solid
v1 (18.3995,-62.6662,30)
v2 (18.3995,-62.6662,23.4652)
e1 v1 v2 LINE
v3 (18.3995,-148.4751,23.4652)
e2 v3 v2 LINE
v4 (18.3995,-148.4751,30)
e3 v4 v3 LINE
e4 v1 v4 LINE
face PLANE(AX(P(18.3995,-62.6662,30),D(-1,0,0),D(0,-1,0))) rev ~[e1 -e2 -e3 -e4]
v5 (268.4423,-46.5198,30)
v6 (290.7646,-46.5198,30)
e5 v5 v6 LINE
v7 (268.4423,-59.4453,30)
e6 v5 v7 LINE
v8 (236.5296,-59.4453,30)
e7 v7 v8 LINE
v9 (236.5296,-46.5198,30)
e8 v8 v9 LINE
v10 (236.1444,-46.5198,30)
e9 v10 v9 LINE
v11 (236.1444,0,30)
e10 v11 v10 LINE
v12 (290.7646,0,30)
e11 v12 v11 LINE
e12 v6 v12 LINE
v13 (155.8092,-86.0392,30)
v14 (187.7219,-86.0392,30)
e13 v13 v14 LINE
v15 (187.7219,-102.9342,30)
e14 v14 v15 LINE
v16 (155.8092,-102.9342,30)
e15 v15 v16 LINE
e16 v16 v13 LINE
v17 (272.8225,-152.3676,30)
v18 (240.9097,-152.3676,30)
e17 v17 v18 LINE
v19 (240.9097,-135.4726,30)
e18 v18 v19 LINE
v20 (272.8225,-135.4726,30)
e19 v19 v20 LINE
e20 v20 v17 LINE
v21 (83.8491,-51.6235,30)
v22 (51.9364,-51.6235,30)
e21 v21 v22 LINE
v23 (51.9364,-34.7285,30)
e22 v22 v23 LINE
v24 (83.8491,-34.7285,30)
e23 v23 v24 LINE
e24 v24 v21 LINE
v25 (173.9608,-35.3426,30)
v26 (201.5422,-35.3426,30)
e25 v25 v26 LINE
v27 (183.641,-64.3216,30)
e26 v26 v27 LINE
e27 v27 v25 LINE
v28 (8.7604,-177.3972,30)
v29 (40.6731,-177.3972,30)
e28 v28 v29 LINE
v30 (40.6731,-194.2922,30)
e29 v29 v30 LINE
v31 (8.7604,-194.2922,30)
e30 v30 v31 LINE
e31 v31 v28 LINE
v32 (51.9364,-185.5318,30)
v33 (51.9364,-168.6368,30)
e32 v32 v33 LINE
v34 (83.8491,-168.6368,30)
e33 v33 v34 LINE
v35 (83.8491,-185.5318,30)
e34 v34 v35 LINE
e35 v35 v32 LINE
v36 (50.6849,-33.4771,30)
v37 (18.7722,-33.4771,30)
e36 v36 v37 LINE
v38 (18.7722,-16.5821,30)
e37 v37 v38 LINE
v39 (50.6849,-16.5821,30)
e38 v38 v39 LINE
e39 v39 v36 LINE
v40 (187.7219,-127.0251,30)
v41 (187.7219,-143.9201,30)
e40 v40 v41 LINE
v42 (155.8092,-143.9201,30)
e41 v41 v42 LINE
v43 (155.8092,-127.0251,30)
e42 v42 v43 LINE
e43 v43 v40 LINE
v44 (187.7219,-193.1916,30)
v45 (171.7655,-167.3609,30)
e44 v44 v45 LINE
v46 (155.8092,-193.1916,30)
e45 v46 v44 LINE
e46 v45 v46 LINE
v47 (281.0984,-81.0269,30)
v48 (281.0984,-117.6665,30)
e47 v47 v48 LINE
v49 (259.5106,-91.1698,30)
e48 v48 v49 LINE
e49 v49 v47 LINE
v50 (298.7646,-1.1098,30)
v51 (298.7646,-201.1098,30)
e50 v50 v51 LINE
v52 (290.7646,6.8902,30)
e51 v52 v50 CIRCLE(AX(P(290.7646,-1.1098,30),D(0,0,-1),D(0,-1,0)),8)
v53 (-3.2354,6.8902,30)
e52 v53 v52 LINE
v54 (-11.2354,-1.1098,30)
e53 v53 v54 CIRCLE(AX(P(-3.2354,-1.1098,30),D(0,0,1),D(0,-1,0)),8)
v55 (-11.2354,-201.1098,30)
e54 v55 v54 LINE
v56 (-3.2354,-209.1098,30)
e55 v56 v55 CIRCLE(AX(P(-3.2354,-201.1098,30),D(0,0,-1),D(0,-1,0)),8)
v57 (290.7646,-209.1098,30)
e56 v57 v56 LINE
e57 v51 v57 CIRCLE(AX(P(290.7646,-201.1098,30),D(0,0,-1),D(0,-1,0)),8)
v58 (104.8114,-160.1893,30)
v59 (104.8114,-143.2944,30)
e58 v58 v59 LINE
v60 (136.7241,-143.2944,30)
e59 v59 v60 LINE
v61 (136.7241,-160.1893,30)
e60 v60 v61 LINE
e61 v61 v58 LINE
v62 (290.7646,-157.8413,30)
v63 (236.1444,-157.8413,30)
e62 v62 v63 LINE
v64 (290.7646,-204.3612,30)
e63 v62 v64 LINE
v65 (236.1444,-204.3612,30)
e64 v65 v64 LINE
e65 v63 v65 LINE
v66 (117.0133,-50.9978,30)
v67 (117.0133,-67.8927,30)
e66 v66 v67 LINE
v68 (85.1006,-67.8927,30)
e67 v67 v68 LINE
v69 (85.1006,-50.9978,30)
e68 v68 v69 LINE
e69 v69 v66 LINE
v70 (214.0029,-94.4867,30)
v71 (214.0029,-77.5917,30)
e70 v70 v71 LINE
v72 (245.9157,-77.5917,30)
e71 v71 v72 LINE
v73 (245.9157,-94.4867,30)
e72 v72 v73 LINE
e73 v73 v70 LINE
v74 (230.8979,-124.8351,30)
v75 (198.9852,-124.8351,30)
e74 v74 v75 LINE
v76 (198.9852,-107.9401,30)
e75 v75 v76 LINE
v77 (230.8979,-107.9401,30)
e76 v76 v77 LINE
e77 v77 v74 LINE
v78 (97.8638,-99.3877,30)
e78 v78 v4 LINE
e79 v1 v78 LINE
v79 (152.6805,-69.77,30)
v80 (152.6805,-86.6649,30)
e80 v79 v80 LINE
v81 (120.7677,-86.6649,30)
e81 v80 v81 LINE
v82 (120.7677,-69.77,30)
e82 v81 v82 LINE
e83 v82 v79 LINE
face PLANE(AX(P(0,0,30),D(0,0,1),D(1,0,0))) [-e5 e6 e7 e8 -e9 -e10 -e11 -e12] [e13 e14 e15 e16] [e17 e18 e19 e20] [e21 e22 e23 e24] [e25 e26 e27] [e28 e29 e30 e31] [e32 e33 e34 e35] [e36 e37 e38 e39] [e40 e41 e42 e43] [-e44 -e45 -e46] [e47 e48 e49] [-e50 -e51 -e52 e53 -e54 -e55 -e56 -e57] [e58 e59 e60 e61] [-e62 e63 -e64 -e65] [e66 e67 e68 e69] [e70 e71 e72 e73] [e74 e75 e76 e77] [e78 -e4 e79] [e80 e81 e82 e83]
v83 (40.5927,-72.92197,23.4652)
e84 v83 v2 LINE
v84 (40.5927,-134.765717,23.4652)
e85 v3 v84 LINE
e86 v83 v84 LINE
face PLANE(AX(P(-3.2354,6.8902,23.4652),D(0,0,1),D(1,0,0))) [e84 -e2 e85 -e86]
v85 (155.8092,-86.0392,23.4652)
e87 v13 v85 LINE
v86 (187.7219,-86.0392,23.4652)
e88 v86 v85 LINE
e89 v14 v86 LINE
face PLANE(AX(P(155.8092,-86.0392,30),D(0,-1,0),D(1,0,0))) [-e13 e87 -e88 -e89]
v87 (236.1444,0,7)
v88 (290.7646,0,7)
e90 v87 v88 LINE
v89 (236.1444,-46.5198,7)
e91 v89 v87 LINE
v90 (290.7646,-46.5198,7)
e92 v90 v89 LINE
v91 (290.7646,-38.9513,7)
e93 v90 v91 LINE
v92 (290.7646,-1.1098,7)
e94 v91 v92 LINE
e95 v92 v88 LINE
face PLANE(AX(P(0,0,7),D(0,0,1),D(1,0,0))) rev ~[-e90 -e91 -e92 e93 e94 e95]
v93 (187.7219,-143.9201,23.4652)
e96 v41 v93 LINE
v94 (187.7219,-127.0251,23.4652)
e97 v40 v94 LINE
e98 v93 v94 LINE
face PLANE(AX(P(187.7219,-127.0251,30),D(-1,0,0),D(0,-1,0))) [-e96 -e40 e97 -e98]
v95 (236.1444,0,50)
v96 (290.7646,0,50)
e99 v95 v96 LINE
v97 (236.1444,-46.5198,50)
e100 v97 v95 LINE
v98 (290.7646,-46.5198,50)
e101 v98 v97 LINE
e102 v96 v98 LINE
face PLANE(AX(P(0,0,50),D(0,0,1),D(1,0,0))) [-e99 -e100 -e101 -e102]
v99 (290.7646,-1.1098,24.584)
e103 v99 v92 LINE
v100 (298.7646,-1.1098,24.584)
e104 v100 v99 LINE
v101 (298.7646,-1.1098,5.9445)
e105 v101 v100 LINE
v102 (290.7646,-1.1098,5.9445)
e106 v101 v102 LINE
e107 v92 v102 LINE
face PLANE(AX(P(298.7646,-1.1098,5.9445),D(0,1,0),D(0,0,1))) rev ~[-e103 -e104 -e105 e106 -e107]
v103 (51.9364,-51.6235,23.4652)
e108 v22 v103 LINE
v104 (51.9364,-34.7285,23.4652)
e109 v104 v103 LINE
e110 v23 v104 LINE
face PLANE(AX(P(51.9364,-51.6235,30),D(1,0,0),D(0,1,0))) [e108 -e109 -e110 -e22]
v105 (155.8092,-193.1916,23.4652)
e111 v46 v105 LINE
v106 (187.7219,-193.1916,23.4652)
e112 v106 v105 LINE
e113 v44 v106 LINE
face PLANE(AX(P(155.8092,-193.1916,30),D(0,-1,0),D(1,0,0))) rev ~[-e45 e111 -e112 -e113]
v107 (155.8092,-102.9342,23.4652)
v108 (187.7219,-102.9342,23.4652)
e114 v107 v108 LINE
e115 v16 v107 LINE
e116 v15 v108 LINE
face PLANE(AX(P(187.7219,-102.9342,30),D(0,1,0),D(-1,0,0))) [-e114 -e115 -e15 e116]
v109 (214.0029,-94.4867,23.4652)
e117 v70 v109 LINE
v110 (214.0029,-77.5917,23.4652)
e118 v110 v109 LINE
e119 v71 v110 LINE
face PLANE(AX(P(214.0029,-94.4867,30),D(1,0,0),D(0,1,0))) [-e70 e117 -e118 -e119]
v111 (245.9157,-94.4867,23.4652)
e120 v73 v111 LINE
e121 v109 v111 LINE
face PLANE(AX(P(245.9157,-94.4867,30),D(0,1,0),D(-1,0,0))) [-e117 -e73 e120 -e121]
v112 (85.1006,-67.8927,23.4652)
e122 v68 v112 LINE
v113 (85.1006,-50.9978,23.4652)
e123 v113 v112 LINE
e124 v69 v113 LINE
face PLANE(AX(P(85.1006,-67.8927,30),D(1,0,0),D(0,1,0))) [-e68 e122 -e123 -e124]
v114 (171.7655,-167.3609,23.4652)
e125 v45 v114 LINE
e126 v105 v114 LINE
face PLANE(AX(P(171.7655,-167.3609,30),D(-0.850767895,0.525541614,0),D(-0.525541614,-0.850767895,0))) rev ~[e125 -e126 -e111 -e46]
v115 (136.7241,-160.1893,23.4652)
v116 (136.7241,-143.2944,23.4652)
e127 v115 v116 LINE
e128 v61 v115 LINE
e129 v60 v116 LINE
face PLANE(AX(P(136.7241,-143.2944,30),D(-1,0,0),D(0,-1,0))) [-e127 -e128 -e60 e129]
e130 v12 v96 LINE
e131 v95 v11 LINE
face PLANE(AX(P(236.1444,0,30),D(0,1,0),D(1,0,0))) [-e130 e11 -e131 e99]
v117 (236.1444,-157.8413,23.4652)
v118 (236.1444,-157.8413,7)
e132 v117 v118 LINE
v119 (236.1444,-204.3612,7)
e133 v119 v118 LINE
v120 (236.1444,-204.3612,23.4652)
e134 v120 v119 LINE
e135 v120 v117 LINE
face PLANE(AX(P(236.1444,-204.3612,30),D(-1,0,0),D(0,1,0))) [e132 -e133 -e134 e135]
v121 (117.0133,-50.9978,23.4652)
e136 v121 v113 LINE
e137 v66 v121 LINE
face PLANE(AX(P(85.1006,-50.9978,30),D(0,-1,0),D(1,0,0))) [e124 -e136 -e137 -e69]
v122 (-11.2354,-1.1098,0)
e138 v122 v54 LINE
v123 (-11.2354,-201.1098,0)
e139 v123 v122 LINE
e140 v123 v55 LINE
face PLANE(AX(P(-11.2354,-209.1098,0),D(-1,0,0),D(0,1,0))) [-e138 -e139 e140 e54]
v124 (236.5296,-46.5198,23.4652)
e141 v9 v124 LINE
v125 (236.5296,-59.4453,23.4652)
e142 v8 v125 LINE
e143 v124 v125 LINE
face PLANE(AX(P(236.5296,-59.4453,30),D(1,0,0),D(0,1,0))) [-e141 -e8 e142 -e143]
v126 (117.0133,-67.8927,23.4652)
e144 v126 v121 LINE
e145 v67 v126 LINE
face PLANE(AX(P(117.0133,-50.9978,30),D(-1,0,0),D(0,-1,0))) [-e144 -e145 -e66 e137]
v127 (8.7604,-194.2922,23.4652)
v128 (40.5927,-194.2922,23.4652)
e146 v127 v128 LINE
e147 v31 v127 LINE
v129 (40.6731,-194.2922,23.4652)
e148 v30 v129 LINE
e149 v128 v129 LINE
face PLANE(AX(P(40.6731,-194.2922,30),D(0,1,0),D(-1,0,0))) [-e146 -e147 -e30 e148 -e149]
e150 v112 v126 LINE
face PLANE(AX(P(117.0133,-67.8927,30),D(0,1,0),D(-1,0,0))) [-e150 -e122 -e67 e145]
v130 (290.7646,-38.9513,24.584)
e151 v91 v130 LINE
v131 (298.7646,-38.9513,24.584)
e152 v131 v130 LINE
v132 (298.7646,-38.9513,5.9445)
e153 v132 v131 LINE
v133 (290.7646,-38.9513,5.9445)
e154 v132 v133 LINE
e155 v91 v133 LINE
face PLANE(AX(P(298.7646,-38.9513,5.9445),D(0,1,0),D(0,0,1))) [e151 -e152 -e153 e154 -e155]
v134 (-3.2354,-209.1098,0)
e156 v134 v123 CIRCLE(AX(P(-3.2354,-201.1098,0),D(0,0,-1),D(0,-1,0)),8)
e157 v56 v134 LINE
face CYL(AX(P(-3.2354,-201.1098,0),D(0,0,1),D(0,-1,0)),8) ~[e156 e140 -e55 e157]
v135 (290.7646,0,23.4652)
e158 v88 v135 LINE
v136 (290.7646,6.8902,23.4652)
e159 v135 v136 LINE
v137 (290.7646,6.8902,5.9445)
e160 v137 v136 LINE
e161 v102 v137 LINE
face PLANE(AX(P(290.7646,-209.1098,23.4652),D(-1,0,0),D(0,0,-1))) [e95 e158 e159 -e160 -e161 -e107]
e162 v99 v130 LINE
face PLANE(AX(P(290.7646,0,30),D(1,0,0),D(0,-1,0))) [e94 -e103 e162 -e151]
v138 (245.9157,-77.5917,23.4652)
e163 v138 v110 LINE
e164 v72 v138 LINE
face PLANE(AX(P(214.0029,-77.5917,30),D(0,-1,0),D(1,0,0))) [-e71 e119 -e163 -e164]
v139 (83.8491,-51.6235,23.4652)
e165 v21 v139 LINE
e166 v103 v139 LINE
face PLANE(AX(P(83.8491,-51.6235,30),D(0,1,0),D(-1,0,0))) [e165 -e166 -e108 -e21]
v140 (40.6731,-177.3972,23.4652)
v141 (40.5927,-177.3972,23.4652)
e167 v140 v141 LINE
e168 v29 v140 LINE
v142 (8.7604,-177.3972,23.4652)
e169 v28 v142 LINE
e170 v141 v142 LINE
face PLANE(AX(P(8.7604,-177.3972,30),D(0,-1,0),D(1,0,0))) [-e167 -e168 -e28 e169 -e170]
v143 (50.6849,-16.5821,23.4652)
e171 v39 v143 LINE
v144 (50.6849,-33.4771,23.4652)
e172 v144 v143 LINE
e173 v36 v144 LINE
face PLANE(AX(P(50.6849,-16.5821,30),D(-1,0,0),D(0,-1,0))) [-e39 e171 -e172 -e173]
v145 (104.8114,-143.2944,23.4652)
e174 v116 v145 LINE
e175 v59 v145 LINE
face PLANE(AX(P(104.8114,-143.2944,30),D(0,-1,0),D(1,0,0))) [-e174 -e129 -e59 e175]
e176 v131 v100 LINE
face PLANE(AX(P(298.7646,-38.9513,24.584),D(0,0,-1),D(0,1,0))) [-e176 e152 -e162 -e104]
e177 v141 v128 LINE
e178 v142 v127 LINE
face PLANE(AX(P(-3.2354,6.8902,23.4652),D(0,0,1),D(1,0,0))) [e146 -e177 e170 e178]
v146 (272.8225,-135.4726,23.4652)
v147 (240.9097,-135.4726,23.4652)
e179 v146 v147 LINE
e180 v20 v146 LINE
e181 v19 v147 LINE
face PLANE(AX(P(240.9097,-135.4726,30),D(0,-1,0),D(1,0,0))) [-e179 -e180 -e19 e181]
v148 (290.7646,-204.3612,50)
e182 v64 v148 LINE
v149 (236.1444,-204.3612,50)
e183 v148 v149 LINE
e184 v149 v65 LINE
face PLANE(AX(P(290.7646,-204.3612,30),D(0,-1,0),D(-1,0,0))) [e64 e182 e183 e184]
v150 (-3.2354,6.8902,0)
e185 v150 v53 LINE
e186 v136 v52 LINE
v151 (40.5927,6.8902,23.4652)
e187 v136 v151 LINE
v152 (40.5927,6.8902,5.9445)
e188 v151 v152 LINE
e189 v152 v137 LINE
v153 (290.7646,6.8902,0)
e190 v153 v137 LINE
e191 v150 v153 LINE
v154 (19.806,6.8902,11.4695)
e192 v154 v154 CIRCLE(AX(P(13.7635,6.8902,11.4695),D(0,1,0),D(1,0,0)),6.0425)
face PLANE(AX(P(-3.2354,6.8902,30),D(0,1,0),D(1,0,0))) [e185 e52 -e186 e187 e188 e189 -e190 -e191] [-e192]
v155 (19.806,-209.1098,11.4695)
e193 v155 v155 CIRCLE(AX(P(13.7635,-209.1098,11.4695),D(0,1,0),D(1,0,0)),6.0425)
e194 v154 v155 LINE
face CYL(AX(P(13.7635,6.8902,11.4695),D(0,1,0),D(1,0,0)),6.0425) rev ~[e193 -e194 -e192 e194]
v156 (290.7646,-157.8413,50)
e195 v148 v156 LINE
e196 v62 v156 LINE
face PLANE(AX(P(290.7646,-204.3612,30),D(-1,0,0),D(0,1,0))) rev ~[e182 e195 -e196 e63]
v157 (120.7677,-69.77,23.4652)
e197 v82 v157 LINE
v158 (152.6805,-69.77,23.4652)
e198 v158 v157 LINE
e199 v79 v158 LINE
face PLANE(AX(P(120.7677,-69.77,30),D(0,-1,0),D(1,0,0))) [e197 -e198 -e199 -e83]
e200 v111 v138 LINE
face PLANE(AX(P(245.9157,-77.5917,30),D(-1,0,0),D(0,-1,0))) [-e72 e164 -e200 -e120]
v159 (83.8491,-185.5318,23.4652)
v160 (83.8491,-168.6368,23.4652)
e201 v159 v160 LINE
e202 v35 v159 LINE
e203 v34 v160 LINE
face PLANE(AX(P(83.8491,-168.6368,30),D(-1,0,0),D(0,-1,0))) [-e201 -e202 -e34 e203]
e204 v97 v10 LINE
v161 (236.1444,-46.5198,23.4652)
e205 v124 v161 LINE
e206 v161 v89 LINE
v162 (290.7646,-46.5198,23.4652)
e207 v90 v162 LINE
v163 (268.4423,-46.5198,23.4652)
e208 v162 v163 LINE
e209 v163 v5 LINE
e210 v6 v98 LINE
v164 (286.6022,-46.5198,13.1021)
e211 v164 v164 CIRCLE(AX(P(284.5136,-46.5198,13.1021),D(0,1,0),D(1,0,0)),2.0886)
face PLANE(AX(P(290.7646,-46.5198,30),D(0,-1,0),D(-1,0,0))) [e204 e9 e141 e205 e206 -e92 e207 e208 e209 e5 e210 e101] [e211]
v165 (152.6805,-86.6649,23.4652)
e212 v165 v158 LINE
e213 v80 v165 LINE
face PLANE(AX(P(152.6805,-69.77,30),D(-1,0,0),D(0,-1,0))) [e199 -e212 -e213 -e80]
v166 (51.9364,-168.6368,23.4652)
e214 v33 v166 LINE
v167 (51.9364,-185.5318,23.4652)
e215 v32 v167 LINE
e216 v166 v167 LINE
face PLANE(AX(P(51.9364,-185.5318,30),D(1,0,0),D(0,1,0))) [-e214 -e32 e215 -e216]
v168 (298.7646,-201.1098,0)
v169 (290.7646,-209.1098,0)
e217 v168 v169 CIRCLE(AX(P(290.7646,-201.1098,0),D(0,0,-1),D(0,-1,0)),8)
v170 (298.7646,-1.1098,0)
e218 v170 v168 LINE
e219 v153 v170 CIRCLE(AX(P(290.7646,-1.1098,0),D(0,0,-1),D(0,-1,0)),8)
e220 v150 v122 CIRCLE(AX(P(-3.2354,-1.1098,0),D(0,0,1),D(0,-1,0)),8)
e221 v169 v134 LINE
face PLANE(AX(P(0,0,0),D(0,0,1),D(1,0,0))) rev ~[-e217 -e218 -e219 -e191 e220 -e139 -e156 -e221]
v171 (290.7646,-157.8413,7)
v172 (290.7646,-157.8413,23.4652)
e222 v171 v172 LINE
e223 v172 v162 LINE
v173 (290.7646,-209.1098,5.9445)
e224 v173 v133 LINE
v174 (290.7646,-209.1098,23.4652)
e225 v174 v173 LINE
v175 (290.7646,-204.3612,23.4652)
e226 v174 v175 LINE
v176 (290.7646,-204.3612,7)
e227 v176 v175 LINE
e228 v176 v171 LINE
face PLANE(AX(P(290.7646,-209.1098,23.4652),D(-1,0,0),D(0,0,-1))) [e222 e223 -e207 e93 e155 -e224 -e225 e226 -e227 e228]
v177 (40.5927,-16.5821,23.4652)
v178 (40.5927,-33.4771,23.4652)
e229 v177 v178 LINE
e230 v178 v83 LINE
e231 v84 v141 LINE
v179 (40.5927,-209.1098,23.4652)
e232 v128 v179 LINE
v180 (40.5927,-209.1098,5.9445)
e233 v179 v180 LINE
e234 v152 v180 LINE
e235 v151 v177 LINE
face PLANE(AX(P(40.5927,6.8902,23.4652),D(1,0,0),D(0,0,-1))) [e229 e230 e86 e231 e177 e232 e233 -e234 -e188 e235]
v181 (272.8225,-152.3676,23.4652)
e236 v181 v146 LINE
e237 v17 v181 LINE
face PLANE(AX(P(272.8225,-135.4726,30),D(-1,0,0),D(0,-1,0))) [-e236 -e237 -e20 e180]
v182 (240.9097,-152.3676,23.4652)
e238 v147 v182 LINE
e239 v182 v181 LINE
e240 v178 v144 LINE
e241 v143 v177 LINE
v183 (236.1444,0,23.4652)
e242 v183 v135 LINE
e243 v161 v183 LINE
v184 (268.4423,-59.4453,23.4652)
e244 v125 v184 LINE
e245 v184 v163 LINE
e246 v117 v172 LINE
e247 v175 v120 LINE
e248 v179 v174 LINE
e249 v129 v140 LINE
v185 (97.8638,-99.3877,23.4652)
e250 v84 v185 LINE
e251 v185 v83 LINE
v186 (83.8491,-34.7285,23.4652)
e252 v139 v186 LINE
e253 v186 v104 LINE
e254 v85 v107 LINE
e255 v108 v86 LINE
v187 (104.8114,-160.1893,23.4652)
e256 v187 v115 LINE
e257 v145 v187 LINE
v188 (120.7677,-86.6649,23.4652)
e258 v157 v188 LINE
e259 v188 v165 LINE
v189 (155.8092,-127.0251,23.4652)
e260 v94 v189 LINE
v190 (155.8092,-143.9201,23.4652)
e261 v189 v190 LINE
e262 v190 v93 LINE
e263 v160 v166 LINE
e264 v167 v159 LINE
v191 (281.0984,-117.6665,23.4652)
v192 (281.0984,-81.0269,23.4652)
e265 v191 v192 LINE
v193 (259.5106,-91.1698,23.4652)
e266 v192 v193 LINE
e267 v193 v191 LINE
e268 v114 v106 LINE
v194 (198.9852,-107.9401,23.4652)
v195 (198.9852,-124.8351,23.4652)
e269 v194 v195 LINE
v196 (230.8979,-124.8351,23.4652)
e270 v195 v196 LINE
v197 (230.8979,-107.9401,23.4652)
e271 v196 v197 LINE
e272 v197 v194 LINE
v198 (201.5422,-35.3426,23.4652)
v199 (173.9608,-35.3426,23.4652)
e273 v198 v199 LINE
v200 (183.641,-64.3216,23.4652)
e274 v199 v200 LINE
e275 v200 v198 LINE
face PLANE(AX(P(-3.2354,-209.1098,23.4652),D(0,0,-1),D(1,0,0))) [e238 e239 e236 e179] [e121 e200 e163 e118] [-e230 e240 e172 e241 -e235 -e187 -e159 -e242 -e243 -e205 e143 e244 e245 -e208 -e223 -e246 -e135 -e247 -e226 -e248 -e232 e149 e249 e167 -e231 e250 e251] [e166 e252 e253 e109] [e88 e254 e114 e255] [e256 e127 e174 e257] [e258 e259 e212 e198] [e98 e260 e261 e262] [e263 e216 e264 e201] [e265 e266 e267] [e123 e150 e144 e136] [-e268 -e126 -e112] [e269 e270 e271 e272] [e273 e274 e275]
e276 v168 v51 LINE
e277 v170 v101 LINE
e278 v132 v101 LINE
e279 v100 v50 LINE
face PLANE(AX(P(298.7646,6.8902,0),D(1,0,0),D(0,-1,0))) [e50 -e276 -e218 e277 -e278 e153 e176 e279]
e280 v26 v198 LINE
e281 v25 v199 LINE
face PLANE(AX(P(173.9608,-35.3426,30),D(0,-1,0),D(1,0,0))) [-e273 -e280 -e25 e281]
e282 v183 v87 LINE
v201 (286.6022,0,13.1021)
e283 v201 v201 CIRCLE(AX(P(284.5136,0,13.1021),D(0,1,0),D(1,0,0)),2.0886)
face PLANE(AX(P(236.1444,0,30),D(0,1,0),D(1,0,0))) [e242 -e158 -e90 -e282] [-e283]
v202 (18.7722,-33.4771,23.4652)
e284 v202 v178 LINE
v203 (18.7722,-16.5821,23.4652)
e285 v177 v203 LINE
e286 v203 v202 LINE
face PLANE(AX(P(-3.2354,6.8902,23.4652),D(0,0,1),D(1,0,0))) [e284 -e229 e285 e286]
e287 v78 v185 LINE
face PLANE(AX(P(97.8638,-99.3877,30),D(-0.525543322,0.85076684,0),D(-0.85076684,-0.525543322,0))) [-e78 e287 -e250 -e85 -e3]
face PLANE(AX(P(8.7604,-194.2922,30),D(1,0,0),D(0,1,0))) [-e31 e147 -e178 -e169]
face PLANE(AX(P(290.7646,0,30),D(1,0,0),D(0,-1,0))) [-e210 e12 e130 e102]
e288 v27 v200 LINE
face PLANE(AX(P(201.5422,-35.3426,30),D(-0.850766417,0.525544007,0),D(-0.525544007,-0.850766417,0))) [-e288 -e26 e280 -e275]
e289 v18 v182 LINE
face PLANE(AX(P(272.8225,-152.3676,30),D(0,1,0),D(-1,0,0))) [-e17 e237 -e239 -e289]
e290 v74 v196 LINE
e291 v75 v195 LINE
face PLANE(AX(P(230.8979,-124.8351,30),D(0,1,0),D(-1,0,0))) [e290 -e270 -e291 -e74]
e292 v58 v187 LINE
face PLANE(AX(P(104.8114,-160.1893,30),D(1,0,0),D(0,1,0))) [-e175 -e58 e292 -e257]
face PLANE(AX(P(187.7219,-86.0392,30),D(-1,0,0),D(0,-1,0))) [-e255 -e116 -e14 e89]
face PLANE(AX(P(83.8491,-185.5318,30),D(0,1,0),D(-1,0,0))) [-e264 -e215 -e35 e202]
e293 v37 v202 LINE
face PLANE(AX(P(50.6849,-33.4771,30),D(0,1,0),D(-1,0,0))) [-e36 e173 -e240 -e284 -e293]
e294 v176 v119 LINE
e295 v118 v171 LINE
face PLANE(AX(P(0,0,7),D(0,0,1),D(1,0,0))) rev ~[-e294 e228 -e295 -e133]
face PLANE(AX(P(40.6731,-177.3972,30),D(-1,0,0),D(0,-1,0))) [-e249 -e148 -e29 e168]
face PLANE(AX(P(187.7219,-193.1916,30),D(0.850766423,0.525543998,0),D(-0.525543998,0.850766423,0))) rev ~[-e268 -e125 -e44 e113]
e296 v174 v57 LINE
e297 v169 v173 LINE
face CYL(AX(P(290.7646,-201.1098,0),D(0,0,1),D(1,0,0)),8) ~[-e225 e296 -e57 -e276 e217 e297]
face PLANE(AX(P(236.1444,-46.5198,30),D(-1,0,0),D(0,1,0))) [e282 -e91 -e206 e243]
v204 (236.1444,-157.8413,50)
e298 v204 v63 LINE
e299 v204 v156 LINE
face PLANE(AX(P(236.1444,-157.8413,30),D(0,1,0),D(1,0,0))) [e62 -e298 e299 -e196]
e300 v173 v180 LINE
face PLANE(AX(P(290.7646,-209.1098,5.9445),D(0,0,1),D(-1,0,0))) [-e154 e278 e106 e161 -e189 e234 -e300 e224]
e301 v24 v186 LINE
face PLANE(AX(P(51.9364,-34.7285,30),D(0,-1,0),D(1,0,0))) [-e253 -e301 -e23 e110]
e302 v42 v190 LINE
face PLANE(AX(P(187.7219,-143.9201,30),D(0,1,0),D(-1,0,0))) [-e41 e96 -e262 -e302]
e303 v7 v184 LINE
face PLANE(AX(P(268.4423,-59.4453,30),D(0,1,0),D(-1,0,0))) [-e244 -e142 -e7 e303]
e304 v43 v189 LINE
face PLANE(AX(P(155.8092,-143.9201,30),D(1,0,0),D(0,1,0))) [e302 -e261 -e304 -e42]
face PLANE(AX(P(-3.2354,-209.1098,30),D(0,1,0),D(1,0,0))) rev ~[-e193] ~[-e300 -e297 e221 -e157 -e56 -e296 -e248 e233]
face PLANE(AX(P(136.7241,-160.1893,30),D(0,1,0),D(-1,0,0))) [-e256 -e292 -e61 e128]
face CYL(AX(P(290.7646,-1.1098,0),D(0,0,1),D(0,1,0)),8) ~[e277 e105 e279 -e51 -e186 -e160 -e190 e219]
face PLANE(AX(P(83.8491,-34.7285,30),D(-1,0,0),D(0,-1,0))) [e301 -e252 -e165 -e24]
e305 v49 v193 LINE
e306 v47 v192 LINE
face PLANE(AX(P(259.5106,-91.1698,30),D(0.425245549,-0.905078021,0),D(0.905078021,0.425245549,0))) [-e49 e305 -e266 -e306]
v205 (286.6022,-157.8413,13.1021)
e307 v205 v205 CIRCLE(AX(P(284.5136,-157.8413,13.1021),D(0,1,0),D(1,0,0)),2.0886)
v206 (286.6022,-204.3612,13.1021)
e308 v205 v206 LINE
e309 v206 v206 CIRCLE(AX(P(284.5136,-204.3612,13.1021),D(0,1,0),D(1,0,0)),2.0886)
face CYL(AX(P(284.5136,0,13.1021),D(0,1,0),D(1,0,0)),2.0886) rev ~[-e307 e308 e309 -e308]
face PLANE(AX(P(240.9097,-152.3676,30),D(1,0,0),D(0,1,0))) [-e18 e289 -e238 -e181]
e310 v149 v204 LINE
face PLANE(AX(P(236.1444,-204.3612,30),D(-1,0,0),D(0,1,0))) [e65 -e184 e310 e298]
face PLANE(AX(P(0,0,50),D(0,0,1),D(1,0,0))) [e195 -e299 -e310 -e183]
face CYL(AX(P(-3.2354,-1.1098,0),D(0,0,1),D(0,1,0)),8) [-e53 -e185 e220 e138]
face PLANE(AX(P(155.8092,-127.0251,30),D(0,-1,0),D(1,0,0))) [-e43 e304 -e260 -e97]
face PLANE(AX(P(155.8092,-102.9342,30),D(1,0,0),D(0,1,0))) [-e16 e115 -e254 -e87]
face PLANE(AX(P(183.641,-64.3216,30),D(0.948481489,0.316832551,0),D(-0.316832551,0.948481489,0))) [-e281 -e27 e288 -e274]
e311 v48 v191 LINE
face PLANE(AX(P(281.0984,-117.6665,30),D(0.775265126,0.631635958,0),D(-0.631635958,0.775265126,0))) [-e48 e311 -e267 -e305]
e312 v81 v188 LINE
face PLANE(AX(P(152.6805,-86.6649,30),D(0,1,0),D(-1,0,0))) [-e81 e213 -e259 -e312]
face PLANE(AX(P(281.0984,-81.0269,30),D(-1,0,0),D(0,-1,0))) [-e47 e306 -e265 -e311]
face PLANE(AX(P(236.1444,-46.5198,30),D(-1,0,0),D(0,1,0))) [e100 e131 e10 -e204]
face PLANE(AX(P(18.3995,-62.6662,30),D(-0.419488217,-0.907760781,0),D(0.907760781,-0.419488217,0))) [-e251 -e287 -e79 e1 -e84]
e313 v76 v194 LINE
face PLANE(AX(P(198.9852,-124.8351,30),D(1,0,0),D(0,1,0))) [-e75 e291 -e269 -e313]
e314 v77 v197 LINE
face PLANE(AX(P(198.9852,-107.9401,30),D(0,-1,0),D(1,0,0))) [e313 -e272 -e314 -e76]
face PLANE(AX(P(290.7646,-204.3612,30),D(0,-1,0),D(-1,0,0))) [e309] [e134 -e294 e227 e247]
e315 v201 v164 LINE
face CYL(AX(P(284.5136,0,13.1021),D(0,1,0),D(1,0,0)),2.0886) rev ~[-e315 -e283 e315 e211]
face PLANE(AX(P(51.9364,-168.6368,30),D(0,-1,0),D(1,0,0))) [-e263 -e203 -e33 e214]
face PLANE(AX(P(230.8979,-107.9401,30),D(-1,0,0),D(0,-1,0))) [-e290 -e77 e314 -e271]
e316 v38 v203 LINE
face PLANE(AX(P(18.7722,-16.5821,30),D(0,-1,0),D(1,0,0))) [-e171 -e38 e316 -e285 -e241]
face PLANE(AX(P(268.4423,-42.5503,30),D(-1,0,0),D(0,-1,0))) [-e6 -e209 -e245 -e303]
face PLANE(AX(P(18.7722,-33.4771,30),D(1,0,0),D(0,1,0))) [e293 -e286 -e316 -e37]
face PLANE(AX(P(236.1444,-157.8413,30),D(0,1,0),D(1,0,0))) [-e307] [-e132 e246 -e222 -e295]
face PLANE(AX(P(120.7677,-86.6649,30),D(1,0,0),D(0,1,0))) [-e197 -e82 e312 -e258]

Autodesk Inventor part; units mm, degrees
ref_plane "YZ Plane" through (0, 0, 0) normal (1, 0, 0) x (0, 1, 0)
ref_plane "XZ Plane" through (0, 0, 0) normal (0, 1, 0) x (-1, 0, 0)
ref_plane "XY Plane" through (0, 0, 0) normal (0, 0, 1) x (1, 0, 0)
sketch "Sketch1" plane through (0, 0, 0) normal (0, 0, 1) x (1, 0, 0)
  line L0 (-11.2354, 6.8902) -> (298.7646, 6.8902)
  line L1 (298.7646, 6.8902) -> (298.7646, -209.1098)
  line L2 (298.7646, -209.1098) -> (-11.2354, -209.1098)
  line L3 (-11.2354, -209.1098) -> (-11.2354, 6.8902)
  point P0 (0, 0)
  dimension "d0" = 310
  dimension "d1" = 216
extrude "Extrusion1" add sketch "Sketch1" along normal blind 30
fillet "Fillet1" radius 8 4 edges at (298.7646, 6.8902, 15) (-11.2354, 6.8902, 15) (-11.2354, -209.1098, 15) (298.7646, -209.1098, 15)
sketch "Sketch2" plane through (-3.2354, 6.8902, 0) normal (0, 1, 0) x (1, 0, 0)
  line L0 (0, -30) -> (0, 0) projected
  line L1 (294, 0) -> (0, 0) projected
  point P0 (3.2354, 0)
  point P1 (15, -15)
  dimension "d5" = 15
  dimension "d6" = 15
hole "Hole1" at (11.7646, 6.8902, 15) direction (0, -1, 0) diameter 4 end through all
sketch "Sketch3" plane through (-3.2354, 6.8902, 0) normal (0, 1, 0) x (1, 0, 0)
  line L0 (294, 0) -> (294, -30) projected
  line L1 (294, 0) -> (0, 0) projected
  point P0 (3.2354, 0)
  point P1 (279, -15)
  dimension "d14" = 15
  dimension "d15" = 15
hole "Hole2" at (275.7646, 6.8902, 15) direction (0, -1, 0) diameter 4 end through all
sketch "Sketch4" plane through (-3.2354, -209.1098, 0) normal (0, -1, 0) x (1, 0, 0)
  line L0 (0, 30) -> (0, 0) projected
  line L1 (294, 30) -> (294, 0) projected
  line L2 (0, 23.4652) -> (294, 23.4652)
  line L3 (294, 23.4652) -> (294, 5.9445)
  line L4 (294, 5.9445) -> (0, 5.9445)
  line L5 (0, 5.9445) -> (0, 23.4652)
  point P0 (3.2354, 0)
extrude "Extrusion2" cut sketch "Sketch4" against normal blind 230
sketch "Sketch5" plane through (0, 0, 30) normal (0, 0, 1) x (1, 0, 0)
  line L0 (18.7722, -16.5821) -> (50.6849, -16.5821)
  line L1 (50.6849, -16.5821) -> (50.6849, -33.4771)
  line L2 (50.6849, -33.4771) -> (18.7722, -33.4771)
  line L3 (18.7722, -33.4771) -> (18.7722, -16.5821)
  line L4 (51.9364, -34.7285) -> (83.8491, -34.7285)
  line L5 (83.8491, -34.7285) -> (83.8491, -51.6235)
  line L6 (83.8491, -51.6235) -> (51.9364, -51.6235)
  line L7 (51.9364, -51.6235) -> (51.9364, -34.7285)
  line L8 (85.1006, -50.9978) -> (117.0133, -50.9978)
  line L9 (117.0133, -50.9978) -> (117.0133, -67.8927)
  line L10 (117.0133, -67.8927) -> (85.1006, -67.8927)
  line L11 (85.1006, -67.8927) -> (85.1006, -50.9978)
  line L12 (120.7677, -69.77) -> (152.6805, -69.77)
  line L13 (152.6805, -69.77) -> (152.6805, -86.6649)
  line L14 (152.6805, -86.6649) -> (120.7677, -86.6649)
  line L15 (120.7677, -86.6649) -> (120.7677, -69.77)
  line L16 (155.8092, -86.0392) -> (187.7219, -86.0392)
  line L17 (187.7219, -86.0392) -> (187.7219, -102.9342)
  line L18 (187.7219, -102.9342) -> (155.8092, -102.9342)
  line L19 (155.8092, -102.9342) -> (155.8092, -86.0392)
  line L20 (198.9852, -107.9401) -> (230.8979, -107.9401)
  line L21 (230.8979, -107.9401) -> (230.8979, -124.8351)
  line L22 (230.8979, -124.8351) -> (198.9852, -124.8351)
  line L23 (198.9852, -124.8351) -> (198.9852, -107.9401)
  line L24 (240.9097, -135.4726) -> (272.8225, -135.4726)
  line L25 (272.8225, -135.4726) -> (272.8225, -152.3676)
  line L26 (272.8225, -152.3676) -> (240.9097, -152.3676)
  line L27 (240.9097, -152.3676) -> (240.9097, -135.4726)
  line L28 (258.4305, -160.1893) -> (290.3432, -160.1893)
  line L29 (290.3432, -160.1893) -> (290.3432, -177.0843)
  line L30 (290.3432, -177.0843) -> (258.4305, -177.0843)
  line L31 (258.4305, -177.0843) -> (258.4305, -160.1893)
  line L32 (214.0029, -77.5917) -> (245.9157, -77.5917)
  line L33 (245.9157, -77.5917) -> (245.9157, -94.4867)
  line L34 (245.9157, -94.4867) -> (214.0029, -94.4867)
  line L35 (214.0029, -94.4867) -> (214.0029, -77.5917)
  line L36 (236.5296, -42.5503) -> (268.4423, -42.5503)
  line L37 (268.4423, -42.5503) -> (268.4423, -59.4453)
  line L38 (268.4423, -59.4453) -> (236.5296, -59.4453)
  line L39 (236.5296, -59.4453) -> (236.5296, -42.5503)
  line L40 (252.4859, -8.1346) -> (284.3987, -8.1346)
  line L41 (284.3987, -8.1346) -> (284.3987, -25.0296)
  line L42 (284.3987, -25.0296) -> (252.4859, -25.0296)
  line L43 (252.4859, -25.0296) -> (252.4859, -8.1346)
  line L44 (155.8092, -127.0251) -> (187.7219, -127.0251)
  line L45 (187.7219, -127.0251) -> (187.7219, -143.9201)
  line L46 (187.7219, -143.9201) -> (155.8092, -143.9201)
  line L47 (155.8092, -143.9201) -> (155.8092, -127.0251)
  line L48 (104.8114, -143.2944) -> (136.7241, -143.2944)
  line L49 (136.7241, -143.2944) -> (136.7241, -160.1893)
  line L50 (136.7241, -160.1893) -> (104.8114, -160.1893)
  line L51 (104.8114, -160.1893) -> (104.8114, -143.2944)
  line L52 (51.9364, -168.6368) -> (83.8491, -168.6368)
  line L53 (83.8491, -168.6368) -> (83.8491, -185.5318)
  line L54 (83.8491, -185.5318) -> (51.9364, -185.5318)
  line L55 (51.9364, -185.5318) -> (51.9364, -168.6368)
  line L56 (8.7604, -177.3972) -> (40.6731, -177.3972)
  line L57 (40.6731, -177.3972) -> (40.6731, -194.2922)
  line L58 (40.6731, -194.2922) -> (8.7604, -194.2922)
  line L59 (8.7604, -194.2922) -> (8.7604, -177.3972)
  point P0 (0, 0)
extrude "Extrusion3" cut sketch "Sketch5" against normal blind 10
sketch "Sketch6" plane through (0, 0, 30) normal (0, 0, 1) x (1, 0, 0)
  line L0 (18.3995, -62.6662) -> (18.3995, -148.4751)
  line L1 (18.3995, -62.6662) -> (97.8638, -99.3877)
  line L2 (97.8638, -99.3877) -> (18.3995, -148.4751)
  line L3 (173.9608, -35.3426) -> (201.5422, -35.3426)
  line L4 (201.5422, -35.3426) -> (183.641, -64.3216)
  line L5 (183.641, -64.3216) -> (173.9608, -35.3426)
  line L6 (155.8092, -193.1916) -> (187.7219, -193.1916)
  line L7 (187.7219, -193.1916) -> (171.7655, -167.3609)
  line L8 (171.7655, -167.3609) -> (155.8092, -193.1916)
  line L9 (281.0984, -81.0269) -> (281.0984, -117.6665)
  line L10 (281.0984, -117.6665) -> (259.5106, -91.1698)
  line L11 (259.5106, -91.1698) -> (281.0984, -81.0269)
  point P0 (0, 0)
extrude "Extrusion4" cut sketch "Sketch6" against normal blind 10
sketch "Sketch7" plane through (298.7646, -201.1098, 0) normal (1, 0, 0) x (0, 0, -1)
  line L0 (0, 200) -> (-30, 200) projected
  line L1 (-5.9445, -8) -> (-5.9445, 208) projected
  line L2 (-24.584, 200) -> (-5.9445, 200)
  line L3 (-5.9445, 200) -> (-5.9445, 162.1585)
  line L4 (-5.9445, 162.1585) -> (-24.584, 162.1585)
  line L5 (-24.584, 162.1585) -> (-24.584, 200)
  point P0 (0, 201.1098)
extrude "Extrusion5" cut sketch "Sketch7" against normal blind 50
sketch "Sketch8" plane through (0, 0, 30) normal (0, 0, 1) x (1, 0, 0)
  point P0 (0, 0)
sketch "Sketch9" plane through (0, 0, 30) normal (0, 0, 1) x (1, 0, 0)
  line L0 (290.7646, -209.1098) -> (290.7646, -38.9513) projected
  line L1 (236.1444, -157.8413) -> (290.7646, -157.8413)
  line L2 (290.7646, -157.8413) -> (290.7646, -204.3612)
  line L3 (290.7646, -204.3612) -> (236.1444, -204.3612)
  line L4 (236.1444, -204.3612) -> (236.1444, -157.8413)
  line L5 (236.1444, 0) -> (290.7646, 0)
  line L6 (290.7646, 0) -> (290.7646, -46.5198)
  line L7 (290.7646, -46.5198) -> (236.1444, -46.5198)
  line L8 (236.1444, -46.5198) -> (236.1444, 0)
  point P0 (0, 0)
extrude "Extrusion6" add sketch "Sketch9" along normal blind 20 and the other way blind 23
sketch "Sketch10" plane through (0, 0, 50) normal (0, 0, 1) x (1, 0, 0)
  line L0 (237.4967, -19.8194) -> (288.8919, -19.8194) construction
  line L1 (288.8919, -19.8194) -> (288.8919, -26.1765) construction
  line L2 (288.8919, -26.1765) -> (237.4967, -26.1765) construction
  line L3 (237.4967, -26.1765) -> (237.4967, -19.8194) construction
  line L4 (237.994, -177.8514) -> (289.3892, -177.8514) construction
  line L5 (289.3892, -177.8514) -> (289.3892, -184.2084) construction
  line L6 (289.3892, -184.2084) -> (237.994, -184.2084) construction
  line L7 (237.994, -184.2084) -> (237.994, -177.8514) construction
  point P0 (0, 0)
  dimension "d0" = 310
  dimension "d1" = 216
sketch "Sketch11" plane through (236.1444, 0, 23.4652) normal (0, 1, 0) x (1, 0, 0)
  circle A0 centre (48.3692, 10.3631) radius 2.0886
  point P0 (-236.1444, 23.4652)
extrude "Extrusion7" cut sketch "Sketch11" against normal blind 220
sketch "Sketch12" plane through (-3.2354, 6.8902, 30) normal (0, 1, 0) x (1, 0, 0)
  line L0 (0, 6.5348) -> (0, 24.0555) projected
  line L1 (294, 24.0555) -> (0, 24.0555) projected
  line L2 (0, 6.5348) -> (43.8281, 6.5348)
  line L3 (43.8281, 6.5348) -> (43.8281, 24.0555)
  line L4 (43.8281, 24.0555) -> (0, 24.0555)
  line L5 (0, 24.0555) -> (0, 6.5348)
  point P0 (3.2354, 30)
extrude "Extrusion8" add sketch "Sketch12" against normal blind 216
sketch "Sketch13" plane through (-3.2354, 6.8902, 0) normal (0, 1, 0) x (1, 0, 0)
  circle A0 centre (16.9989, -11.4695) radius 6.0425
  point P0 (3.2354, 0)
extrude "Extrusion9" cut sketch "Sketch13" against normal blind 216
properties part number "BASE7"
